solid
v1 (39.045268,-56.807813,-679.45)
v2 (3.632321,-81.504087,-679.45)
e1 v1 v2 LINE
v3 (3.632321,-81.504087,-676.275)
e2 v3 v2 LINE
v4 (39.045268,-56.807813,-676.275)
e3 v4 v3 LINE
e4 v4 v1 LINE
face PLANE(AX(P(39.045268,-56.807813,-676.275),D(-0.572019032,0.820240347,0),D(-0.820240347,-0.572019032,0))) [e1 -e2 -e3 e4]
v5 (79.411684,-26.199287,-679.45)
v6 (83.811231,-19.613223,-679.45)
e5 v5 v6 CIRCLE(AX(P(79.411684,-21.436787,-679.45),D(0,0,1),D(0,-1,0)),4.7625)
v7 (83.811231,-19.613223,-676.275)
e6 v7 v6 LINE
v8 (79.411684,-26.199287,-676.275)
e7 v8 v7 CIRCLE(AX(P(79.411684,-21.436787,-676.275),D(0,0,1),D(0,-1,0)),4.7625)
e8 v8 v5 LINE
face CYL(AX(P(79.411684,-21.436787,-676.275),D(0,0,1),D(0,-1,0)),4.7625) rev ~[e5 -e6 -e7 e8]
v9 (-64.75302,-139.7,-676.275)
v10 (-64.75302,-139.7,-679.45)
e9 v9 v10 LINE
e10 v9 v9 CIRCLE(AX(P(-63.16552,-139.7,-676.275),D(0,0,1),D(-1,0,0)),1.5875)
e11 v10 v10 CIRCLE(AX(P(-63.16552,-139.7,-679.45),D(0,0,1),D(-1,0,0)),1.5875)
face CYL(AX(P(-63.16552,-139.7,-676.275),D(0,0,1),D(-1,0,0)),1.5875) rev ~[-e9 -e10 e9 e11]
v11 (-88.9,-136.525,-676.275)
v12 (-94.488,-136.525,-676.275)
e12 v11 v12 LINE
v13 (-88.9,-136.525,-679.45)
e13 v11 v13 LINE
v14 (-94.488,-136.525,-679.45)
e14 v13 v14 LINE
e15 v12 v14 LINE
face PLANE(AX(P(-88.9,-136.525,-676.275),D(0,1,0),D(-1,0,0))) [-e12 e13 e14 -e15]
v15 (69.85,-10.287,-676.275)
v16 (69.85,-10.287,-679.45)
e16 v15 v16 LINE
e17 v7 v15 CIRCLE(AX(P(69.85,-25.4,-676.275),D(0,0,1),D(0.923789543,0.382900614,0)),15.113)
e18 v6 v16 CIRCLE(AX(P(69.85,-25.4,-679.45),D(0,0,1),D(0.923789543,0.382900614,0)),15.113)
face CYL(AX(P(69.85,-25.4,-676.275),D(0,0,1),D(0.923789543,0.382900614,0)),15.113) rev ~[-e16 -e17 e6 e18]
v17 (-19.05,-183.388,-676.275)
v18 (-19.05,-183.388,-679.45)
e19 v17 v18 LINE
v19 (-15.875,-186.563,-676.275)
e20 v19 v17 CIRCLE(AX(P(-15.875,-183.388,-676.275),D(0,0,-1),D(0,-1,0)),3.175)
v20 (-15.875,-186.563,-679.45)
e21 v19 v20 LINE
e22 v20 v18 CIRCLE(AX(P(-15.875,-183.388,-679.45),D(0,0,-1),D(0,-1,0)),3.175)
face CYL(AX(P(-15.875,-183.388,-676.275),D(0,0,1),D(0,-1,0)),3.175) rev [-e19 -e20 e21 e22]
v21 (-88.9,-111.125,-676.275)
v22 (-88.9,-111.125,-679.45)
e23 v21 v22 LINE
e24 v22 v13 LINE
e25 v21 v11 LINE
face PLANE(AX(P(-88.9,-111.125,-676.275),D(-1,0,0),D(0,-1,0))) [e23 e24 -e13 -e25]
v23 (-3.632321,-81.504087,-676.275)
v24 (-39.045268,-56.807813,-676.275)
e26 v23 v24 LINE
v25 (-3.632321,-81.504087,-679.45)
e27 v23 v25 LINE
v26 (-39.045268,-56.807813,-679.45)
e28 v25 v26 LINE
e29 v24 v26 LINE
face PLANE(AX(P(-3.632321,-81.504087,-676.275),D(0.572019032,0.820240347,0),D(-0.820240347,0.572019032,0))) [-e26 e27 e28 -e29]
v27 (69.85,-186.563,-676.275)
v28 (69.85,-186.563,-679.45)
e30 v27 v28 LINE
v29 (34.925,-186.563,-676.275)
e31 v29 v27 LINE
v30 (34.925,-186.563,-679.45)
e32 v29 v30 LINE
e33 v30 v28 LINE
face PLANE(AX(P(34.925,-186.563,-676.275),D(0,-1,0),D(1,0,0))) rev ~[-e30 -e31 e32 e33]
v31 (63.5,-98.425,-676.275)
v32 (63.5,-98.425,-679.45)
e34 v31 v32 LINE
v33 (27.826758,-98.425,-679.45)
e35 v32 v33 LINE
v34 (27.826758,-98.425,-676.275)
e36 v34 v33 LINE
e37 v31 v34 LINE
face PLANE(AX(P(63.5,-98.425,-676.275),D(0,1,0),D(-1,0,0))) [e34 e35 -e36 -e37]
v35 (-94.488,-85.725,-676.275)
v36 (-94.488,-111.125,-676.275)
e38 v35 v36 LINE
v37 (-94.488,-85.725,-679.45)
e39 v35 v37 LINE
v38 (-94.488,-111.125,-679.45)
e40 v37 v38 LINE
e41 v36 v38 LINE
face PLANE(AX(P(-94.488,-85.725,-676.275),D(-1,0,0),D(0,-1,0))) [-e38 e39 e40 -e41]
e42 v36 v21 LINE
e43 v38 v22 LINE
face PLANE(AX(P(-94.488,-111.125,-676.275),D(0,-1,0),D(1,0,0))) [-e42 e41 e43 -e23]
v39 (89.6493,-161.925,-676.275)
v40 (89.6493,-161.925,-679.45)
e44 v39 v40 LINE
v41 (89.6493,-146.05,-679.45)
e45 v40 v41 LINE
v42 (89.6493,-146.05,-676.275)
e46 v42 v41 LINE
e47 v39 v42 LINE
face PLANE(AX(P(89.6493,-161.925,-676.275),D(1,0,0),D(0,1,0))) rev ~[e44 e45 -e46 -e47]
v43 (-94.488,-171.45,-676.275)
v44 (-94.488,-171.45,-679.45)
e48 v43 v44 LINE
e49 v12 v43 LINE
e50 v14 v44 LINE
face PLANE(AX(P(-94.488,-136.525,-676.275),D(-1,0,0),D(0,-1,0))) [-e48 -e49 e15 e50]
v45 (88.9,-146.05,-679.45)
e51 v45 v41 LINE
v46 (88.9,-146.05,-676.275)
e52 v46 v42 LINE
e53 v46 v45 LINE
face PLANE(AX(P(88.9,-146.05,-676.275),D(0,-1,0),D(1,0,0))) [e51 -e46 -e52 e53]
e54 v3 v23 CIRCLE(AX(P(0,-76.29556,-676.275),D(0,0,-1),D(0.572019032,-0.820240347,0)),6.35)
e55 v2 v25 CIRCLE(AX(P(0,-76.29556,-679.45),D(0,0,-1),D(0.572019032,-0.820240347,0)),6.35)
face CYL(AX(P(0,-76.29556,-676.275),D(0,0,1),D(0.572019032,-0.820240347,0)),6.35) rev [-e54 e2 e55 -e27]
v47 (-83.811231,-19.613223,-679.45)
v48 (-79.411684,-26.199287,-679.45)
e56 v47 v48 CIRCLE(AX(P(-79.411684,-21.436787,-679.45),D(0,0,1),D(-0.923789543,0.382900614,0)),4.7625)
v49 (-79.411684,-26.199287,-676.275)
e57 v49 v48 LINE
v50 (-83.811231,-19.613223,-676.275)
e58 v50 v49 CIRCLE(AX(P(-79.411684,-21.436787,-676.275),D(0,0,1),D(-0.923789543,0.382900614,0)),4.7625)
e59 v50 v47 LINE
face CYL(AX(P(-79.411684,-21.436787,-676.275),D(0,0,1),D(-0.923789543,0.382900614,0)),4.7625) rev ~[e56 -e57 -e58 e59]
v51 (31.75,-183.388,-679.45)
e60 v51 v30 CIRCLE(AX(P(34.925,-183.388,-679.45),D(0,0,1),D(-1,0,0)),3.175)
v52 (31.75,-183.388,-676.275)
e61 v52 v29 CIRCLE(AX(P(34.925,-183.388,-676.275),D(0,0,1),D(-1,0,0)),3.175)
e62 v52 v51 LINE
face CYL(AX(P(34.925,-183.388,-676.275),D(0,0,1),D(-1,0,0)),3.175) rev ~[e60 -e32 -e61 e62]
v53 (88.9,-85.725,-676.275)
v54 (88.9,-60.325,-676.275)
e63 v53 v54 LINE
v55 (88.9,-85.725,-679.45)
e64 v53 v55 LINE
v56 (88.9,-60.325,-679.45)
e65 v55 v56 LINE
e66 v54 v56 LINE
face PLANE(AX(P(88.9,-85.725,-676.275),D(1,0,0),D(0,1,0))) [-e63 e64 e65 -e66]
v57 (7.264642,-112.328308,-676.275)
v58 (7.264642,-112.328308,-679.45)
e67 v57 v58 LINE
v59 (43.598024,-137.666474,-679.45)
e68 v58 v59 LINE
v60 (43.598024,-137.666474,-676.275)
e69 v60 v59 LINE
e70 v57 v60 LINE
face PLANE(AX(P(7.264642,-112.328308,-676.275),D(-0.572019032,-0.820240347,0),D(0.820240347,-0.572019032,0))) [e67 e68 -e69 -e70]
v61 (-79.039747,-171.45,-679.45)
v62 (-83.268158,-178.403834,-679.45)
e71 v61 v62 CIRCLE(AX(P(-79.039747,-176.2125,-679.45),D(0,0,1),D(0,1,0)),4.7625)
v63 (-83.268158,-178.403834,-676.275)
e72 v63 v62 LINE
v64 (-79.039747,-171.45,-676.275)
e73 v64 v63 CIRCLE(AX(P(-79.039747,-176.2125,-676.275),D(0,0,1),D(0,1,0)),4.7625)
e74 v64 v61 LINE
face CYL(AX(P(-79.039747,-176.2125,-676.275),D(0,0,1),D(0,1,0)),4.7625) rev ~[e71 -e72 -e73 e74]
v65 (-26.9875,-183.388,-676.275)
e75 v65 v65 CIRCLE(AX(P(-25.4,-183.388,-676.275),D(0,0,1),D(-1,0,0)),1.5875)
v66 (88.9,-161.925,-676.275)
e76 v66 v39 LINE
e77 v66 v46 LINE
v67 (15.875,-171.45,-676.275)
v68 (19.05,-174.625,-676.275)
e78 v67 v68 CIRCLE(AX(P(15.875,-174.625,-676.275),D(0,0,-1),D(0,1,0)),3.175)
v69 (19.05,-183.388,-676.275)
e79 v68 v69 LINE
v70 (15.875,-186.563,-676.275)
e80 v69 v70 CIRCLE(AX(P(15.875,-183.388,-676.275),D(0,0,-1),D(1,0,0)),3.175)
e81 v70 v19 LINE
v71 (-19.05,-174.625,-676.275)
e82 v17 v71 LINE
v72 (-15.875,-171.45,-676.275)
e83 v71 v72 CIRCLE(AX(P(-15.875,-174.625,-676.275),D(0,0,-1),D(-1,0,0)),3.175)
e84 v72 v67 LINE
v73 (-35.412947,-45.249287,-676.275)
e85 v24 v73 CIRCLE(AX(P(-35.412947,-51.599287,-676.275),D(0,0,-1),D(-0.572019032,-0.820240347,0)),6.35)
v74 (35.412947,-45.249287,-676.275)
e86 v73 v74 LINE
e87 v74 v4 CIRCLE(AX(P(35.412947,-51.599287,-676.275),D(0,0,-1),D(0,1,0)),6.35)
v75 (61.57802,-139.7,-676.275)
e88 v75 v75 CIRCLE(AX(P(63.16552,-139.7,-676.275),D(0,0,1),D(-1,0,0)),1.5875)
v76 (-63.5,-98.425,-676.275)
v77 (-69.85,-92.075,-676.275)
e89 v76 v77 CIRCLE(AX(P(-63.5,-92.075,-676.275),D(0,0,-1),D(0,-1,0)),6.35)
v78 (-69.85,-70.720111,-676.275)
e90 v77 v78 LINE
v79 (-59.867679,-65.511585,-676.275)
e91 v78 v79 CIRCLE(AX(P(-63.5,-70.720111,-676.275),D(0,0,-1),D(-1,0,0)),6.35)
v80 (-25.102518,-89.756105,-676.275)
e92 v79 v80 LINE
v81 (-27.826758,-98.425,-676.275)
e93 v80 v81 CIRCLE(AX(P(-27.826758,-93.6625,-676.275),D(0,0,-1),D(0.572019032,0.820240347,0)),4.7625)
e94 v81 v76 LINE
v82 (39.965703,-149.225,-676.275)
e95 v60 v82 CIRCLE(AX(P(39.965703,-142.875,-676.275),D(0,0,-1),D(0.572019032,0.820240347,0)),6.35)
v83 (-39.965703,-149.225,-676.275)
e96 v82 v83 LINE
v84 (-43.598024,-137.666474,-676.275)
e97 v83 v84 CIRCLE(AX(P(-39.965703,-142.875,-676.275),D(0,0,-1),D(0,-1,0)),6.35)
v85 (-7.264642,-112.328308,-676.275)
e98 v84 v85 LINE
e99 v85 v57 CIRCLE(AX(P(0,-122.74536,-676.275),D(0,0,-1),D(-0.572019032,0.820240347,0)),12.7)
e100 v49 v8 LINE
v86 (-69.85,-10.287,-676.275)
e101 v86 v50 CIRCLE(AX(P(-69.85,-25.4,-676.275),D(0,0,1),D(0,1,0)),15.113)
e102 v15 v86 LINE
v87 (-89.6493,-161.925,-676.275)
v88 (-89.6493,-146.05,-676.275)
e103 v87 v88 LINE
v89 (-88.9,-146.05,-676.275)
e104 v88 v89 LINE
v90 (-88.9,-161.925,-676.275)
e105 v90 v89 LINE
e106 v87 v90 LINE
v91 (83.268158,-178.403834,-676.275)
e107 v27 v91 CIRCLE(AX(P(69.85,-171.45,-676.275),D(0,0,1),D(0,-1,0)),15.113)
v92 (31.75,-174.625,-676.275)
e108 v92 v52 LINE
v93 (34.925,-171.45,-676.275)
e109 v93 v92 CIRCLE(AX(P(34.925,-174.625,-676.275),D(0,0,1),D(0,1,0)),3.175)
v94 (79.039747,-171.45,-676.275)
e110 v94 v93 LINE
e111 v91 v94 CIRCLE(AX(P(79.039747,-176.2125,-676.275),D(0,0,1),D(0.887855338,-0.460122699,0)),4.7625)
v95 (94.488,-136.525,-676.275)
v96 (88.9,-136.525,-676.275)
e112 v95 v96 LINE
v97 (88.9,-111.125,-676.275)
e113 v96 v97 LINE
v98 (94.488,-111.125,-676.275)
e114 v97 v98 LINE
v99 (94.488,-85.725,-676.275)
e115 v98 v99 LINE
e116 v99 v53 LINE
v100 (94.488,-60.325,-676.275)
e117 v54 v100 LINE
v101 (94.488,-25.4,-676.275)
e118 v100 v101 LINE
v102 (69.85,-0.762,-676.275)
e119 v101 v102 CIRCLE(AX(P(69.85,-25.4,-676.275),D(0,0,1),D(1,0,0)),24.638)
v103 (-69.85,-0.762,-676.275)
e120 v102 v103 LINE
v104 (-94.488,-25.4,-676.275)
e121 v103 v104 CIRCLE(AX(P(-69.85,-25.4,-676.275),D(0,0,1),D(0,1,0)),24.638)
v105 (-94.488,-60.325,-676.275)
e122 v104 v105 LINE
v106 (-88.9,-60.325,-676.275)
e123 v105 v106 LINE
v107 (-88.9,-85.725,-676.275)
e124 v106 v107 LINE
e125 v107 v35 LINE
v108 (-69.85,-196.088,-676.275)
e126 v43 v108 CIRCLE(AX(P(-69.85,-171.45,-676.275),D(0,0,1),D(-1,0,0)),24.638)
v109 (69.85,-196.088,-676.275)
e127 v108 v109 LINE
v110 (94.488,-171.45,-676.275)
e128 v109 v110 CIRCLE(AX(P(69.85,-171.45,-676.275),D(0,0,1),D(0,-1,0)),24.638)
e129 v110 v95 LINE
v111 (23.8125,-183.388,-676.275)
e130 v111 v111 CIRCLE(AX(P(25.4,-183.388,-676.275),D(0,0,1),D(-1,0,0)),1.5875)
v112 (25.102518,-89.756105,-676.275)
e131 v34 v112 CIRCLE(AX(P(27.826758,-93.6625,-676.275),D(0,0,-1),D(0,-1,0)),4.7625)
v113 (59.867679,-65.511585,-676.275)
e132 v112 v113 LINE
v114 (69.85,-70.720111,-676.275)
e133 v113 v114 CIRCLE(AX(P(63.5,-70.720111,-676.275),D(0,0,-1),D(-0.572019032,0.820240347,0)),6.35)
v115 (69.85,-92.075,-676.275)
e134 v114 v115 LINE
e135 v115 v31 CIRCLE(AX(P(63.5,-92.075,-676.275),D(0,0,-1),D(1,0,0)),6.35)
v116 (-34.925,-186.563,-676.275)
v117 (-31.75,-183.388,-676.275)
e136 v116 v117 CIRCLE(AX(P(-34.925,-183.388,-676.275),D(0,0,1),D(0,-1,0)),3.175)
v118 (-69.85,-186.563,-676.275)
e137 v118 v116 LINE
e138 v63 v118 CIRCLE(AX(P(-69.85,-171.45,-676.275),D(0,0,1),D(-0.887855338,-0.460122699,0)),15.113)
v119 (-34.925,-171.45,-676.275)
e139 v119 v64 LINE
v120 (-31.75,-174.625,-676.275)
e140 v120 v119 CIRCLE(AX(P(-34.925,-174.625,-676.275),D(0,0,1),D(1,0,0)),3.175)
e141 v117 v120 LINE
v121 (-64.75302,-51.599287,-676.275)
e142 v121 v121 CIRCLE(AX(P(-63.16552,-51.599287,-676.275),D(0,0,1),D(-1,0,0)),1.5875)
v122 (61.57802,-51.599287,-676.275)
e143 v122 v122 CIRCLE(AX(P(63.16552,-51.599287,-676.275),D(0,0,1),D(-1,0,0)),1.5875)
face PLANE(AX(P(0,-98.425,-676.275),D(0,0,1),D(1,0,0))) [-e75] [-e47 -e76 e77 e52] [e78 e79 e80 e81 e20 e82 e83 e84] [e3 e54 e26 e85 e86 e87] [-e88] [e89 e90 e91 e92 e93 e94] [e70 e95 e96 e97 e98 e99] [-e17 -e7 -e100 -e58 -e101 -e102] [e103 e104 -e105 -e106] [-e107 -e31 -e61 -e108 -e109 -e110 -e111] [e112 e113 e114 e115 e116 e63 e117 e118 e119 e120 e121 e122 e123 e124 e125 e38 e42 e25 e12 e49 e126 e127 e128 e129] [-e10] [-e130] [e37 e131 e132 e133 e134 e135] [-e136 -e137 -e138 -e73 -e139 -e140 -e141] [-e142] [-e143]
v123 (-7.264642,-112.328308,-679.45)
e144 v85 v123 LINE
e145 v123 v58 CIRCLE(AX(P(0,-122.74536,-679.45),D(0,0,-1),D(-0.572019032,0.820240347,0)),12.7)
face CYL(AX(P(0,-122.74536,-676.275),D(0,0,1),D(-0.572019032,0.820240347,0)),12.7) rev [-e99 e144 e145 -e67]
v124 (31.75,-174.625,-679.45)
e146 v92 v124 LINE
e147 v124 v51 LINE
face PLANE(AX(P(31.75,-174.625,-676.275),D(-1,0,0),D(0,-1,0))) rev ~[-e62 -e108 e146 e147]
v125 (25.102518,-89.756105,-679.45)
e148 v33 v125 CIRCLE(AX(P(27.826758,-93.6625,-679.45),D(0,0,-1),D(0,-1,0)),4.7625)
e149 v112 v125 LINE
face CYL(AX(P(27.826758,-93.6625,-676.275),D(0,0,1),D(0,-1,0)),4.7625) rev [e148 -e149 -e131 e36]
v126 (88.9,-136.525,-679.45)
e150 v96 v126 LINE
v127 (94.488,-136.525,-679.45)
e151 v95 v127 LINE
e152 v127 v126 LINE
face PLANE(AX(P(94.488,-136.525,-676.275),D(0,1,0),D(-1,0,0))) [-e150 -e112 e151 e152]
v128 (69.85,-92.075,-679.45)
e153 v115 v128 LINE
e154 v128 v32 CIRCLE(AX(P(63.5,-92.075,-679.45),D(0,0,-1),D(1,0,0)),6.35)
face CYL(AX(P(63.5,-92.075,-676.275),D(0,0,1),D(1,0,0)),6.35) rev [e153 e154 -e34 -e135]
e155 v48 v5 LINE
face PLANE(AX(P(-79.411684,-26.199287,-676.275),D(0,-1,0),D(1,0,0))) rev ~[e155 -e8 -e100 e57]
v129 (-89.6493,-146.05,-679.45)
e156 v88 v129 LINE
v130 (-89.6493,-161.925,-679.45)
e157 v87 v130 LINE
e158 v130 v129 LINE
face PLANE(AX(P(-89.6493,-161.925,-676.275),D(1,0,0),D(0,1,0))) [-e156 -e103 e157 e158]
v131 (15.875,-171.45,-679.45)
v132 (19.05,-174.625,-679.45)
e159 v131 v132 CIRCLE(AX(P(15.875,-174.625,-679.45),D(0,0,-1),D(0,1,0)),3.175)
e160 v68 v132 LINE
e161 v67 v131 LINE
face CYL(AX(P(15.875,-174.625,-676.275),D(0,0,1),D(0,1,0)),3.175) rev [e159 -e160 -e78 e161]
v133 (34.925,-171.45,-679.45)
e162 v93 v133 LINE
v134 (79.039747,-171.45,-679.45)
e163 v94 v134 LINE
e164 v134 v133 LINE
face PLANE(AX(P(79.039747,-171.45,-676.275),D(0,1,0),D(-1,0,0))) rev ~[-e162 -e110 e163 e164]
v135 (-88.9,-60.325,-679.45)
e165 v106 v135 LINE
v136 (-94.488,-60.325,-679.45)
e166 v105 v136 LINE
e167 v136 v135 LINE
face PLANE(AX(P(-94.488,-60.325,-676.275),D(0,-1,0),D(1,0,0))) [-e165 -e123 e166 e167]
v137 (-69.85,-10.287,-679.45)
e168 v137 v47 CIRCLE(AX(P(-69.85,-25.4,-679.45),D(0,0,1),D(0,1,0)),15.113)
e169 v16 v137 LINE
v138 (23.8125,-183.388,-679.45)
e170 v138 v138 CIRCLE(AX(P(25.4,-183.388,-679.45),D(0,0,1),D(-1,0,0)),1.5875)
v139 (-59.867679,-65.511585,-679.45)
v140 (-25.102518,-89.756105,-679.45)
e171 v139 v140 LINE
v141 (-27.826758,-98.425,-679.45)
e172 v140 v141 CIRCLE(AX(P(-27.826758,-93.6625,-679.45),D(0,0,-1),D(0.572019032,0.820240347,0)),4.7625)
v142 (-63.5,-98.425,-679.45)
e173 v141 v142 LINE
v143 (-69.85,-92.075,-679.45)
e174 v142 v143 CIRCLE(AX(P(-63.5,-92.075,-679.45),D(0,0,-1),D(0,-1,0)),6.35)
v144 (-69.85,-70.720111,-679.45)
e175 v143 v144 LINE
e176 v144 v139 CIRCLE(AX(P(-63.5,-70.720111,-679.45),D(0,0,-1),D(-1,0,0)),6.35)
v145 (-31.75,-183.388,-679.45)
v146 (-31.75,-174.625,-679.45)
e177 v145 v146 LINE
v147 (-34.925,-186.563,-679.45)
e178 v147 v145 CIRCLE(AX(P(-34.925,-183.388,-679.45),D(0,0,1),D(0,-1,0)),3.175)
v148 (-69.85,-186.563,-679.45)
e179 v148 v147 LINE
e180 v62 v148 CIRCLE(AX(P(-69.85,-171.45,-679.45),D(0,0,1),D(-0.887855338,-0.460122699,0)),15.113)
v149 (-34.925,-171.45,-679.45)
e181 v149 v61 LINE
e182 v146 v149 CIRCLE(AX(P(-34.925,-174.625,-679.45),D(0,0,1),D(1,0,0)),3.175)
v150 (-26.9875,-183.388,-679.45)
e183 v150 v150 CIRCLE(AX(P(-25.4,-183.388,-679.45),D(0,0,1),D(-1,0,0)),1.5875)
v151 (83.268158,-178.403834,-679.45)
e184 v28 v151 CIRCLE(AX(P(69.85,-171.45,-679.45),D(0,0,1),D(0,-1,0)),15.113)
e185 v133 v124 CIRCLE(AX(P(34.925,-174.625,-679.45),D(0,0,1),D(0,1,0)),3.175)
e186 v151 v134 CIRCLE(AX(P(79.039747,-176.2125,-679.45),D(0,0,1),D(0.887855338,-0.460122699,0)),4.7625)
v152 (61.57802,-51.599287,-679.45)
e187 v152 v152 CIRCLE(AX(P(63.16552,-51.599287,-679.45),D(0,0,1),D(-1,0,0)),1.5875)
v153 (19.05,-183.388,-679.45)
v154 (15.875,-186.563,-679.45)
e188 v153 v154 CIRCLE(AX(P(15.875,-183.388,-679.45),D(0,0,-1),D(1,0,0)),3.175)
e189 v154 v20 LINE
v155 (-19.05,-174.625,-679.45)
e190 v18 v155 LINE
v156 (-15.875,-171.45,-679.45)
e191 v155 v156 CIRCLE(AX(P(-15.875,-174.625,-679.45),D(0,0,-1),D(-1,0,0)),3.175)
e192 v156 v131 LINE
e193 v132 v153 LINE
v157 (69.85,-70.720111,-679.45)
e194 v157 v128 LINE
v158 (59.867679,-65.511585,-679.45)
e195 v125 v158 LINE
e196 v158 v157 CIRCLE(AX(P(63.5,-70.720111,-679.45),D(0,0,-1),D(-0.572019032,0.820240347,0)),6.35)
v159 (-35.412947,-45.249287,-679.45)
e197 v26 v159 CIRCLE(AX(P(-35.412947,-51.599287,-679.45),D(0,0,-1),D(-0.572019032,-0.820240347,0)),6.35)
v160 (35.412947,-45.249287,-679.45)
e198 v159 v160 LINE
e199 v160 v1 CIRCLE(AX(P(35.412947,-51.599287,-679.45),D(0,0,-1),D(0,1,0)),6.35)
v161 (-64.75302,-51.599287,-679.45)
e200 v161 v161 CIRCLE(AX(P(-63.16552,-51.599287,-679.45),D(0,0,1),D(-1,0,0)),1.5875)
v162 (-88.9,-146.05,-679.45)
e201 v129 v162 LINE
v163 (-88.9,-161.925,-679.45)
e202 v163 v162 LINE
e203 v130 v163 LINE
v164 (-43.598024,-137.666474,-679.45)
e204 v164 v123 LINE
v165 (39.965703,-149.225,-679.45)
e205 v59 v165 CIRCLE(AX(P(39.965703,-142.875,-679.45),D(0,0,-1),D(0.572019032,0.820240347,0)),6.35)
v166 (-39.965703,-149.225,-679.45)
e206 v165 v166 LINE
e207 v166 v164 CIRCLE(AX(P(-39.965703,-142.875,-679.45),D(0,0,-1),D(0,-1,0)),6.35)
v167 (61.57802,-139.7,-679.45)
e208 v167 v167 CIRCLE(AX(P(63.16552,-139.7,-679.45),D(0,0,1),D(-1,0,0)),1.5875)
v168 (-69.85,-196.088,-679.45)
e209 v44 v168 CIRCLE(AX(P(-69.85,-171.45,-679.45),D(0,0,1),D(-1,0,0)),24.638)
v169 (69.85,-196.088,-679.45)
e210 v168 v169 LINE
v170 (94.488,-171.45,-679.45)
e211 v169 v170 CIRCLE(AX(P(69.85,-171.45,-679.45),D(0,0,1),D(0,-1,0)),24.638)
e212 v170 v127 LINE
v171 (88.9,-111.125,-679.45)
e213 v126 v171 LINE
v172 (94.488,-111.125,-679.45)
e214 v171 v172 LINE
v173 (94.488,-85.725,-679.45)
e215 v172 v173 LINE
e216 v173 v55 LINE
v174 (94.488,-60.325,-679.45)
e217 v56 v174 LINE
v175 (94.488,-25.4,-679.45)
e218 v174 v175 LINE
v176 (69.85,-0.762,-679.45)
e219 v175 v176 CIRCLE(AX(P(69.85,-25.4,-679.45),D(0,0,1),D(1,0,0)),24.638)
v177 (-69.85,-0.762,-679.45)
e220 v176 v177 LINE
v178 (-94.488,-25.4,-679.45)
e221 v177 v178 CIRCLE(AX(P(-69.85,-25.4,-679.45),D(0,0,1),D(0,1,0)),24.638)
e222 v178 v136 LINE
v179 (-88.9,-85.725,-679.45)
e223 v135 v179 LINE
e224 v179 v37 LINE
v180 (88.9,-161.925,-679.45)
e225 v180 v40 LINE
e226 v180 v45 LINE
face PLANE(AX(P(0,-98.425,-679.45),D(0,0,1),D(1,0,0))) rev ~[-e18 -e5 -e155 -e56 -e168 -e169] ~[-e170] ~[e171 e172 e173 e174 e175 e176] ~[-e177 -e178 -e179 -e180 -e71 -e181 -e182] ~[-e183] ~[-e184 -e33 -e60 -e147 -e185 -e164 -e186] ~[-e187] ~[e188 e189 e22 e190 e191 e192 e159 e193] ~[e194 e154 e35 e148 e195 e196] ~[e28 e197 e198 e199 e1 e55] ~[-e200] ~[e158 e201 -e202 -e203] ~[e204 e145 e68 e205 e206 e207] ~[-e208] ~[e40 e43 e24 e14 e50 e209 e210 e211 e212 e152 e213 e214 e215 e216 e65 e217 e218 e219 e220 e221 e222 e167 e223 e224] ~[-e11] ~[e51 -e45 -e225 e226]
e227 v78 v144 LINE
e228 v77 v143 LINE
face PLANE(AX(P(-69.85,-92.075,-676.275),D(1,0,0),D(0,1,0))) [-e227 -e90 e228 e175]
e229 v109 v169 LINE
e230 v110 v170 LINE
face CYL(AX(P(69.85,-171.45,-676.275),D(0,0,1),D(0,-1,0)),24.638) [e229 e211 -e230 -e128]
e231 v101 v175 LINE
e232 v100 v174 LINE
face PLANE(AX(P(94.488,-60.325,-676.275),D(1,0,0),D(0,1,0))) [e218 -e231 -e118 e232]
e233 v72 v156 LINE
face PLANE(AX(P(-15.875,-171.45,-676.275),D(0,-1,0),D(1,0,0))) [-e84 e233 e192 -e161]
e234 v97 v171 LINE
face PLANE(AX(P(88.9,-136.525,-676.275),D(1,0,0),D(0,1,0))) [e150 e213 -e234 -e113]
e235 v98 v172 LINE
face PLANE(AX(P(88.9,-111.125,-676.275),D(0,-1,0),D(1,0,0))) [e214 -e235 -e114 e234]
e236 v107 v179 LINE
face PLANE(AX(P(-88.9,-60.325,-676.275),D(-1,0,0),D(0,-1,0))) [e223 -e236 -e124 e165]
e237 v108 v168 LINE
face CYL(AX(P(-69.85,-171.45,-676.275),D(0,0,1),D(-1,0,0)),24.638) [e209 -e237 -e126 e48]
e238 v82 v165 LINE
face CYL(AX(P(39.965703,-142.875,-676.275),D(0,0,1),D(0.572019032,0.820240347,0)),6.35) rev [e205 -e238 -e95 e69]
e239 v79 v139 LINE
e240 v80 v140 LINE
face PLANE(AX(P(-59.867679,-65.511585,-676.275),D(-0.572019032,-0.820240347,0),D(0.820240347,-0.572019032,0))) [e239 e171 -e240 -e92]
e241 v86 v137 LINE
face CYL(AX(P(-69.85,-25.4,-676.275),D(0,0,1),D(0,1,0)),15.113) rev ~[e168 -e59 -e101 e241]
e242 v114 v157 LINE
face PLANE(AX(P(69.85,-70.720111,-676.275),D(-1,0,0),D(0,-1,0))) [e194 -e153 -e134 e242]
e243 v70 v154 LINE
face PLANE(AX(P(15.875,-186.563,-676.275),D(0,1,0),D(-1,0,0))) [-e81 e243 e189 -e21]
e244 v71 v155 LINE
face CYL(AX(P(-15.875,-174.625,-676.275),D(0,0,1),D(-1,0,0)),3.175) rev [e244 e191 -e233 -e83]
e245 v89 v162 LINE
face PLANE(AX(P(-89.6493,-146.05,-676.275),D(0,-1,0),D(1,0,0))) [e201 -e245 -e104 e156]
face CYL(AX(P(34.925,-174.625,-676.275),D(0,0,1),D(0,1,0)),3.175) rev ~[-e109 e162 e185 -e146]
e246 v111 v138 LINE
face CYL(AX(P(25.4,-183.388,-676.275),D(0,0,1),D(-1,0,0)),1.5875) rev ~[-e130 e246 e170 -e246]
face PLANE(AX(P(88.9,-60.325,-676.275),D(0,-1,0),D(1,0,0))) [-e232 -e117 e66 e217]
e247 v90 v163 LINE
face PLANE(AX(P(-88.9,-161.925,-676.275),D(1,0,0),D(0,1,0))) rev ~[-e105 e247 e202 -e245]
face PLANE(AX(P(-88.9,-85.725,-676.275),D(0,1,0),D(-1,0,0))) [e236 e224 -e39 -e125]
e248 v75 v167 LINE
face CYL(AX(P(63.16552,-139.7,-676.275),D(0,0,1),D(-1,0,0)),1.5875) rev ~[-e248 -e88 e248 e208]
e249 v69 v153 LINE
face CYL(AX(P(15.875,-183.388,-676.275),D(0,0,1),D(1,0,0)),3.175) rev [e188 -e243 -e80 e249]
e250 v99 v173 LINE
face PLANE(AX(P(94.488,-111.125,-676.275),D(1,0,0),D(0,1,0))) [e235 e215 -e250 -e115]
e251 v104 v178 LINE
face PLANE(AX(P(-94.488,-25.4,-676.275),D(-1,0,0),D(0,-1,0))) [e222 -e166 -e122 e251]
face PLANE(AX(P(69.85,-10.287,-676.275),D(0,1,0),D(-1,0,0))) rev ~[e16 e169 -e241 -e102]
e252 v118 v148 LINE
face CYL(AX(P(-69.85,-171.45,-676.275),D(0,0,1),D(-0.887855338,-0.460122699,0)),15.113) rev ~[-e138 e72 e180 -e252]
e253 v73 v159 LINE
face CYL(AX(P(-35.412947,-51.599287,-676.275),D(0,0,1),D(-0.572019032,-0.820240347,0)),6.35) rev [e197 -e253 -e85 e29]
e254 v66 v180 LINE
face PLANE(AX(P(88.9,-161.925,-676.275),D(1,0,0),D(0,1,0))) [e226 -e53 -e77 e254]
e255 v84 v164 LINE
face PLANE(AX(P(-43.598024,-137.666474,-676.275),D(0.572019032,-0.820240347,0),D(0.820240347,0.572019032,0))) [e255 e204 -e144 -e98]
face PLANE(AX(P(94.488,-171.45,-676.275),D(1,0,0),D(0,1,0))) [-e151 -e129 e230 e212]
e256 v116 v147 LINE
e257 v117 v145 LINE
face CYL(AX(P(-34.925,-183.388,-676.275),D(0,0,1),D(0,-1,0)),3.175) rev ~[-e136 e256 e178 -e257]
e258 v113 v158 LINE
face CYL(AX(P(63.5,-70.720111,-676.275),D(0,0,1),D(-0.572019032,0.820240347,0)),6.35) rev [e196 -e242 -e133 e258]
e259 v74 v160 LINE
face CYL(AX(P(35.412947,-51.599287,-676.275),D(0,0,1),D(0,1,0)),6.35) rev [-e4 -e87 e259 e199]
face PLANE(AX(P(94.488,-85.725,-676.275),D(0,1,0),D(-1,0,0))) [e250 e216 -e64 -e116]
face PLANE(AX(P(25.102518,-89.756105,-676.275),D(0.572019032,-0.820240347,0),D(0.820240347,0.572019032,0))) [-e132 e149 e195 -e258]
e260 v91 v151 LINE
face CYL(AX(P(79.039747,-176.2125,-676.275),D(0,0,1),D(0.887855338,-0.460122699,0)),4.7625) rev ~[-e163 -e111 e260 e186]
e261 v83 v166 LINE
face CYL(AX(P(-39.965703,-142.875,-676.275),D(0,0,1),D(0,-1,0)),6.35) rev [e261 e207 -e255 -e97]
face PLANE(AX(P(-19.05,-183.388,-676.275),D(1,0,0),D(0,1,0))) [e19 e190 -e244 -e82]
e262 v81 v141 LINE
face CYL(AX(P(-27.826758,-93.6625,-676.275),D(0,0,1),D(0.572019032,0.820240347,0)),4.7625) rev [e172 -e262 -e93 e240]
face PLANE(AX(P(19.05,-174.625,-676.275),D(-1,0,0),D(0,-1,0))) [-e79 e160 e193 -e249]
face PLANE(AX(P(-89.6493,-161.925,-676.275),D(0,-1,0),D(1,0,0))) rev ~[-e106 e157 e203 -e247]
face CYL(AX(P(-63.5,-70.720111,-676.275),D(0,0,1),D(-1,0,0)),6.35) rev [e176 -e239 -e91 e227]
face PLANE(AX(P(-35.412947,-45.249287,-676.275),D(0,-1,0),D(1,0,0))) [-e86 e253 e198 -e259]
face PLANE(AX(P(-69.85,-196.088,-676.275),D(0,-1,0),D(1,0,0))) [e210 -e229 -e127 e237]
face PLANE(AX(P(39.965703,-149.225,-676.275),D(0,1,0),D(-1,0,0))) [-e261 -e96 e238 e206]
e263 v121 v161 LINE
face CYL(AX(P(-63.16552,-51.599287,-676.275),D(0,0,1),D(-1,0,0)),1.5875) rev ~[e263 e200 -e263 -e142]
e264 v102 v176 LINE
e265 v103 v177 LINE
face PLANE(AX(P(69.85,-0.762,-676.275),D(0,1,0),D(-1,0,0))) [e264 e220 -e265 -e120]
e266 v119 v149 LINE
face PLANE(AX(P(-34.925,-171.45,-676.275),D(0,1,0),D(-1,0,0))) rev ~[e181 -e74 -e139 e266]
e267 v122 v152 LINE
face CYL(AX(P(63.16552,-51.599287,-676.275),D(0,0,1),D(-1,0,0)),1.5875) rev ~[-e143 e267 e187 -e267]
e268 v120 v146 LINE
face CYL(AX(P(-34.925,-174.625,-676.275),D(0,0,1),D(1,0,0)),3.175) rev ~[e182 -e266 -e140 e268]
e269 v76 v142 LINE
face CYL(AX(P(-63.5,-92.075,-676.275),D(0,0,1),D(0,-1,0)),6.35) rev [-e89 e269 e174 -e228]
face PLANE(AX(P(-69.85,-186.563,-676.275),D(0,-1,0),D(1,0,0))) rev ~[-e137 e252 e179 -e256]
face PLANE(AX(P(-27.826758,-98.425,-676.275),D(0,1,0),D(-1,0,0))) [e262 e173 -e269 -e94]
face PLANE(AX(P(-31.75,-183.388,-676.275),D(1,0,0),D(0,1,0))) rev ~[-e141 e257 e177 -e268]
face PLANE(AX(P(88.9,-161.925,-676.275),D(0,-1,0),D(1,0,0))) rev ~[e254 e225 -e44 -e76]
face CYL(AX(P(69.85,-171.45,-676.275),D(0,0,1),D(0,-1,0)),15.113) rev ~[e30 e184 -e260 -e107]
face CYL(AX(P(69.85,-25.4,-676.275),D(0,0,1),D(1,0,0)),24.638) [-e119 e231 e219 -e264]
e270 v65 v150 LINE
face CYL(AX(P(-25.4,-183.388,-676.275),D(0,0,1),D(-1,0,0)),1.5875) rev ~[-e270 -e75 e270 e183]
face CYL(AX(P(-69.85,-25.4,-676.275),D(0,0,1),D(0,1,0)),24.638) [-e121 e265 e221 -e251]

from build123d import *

# Parameters (mm, degrees)
SKETCH1_R           = 1.5875
SKETCH1_W           = 0.7493
SKETCH1_H           = 15.875
BOSS_EXTRUDE1_DEPTH = 3.175


with BuildPart() as part:
    # Sketch1 → Boss-Extrude1 (new body)
    with BuildSketch(Plane.XY.offset(-676.275)):
        with BuildLine():
            Line((94.488, -171.45), (94.488, -136.525))
            Line((94.488, -136.525), (88.9, -136.525))
            Line((88.9, -136.525), (88.9, -111.125))
            Line((88.9, -111.125), (94.488, -111.125))
            Line((94.488, -111.125), (94.488, -85.725))
            Line((94.488, -85.725), (88.9, -85.725))
            Line((88.9, -85.725), (88.9, -60.325))
            Line((88.9, -60.325), (94.488, -60.325))
            Line((94.488, -60.325), (94.488, -25.4))
            ThreePointArc((94.488, -25.4), (87.271696875, -7.978303125), (69.85, -0.762))
            Line((69.85, -0.762), (-69.85, -0.762))
            ThreePointArc((-69.85, -0.762), (-87.271696875, -7.978303125), (-94.488, -25.4))
            Line((-94.488, -25.4), (-94.488, -60.325))
            Line((-94.488, -60.325), (-88.9, -60.325))
            Line((-88.9, -60.325), (-88.9, -85.725))
            Line((-88.9, -85.725), (-94.488, -85.725))
            Line((-94.488, -85.725), (-94.488, -111.125))
            Line((-94.488, -111.125), (-88.9, -111.125))
            Line((-88.9, -111.125), (-88.9, -136.525))
            Line((-88.9, -136.525), (-94.488, -136.525))
            Line((-94.488, -136.525), (-94.488, -171.45))
            ThreePointArc((-94.488, -171.45), (-87.271696875, -188.871696875), (-69.85, -196.088))
            Line((-69.85, -196.088), (69.85, -196.088))
            ThreePointArc((69.85, -196.088), (87.271696875, -188.871696875), (94.488, -171.45))
        make_face()
        with Locations(Location((63.1655201, -139.7, 0), (0, 0, 180))):
            Circle(SKETCH1_R, mode=Mode.SUBTRACT)
        with Locations(Location((-63.1655201, -51.5992872, 0), (0, 0, 180))):
            Circle(SKETCH1_R, mode=Mode.SUBTRACT)
        with Locations(Location((25.4, -183.388, 0), (0, 0, 180))):
            Circle(SKETCH1_R, mode=Mode.SUBTRACT)
        with Locations(Location((-25.4, -183.388, 0), (0, 0, 180))):
            Circle(SKETCH1_R, mode=Mode.SUBTRACT)
        with Locations(Location((-63.1655201, -139.7, 0), (0, 0, 180))):
            Circle(SKETCH1_R, mode=Mode.SUBTRACT)
        with Locations(Location((63.1655201, -51.5992872, 0), (0, 0, 180))):
            Circle(SKETCH1_R, mode=Mode.SUBTRACT)
        with BuildLine():
            Line((7.264641701, -112.328307791), (43.598023874, -137.666473794))
            ThreePointArc((43.598023874, -137.666473794), (46.023616914, -144.778727737), (39.965703023, -149.225))
            Line((39.965703023, -149.225), (-39.965703023, -149.225))
            ThreePointArc((-39.965703023, -149.225), (-46.023616914, -144.778727737), (-43.598023874, -137.666473794))
            Line((-43.598023874, -137.666473794), (-7.264641701, -112.328307791))
            ThreePointArc((-7.264641701, -112.328307791), (0, -110.045360203), (7.264641701, -112.328307791))
        make_face(mode=Mode.SUBTRACT)
        with BuildLine():
            Line((39.04526783, -56.807813406), (3.632320851, -81.504086518))
            ThreePointArc((3.632320851, -81.504086518), (0, -82.645560312), (-3.632320851, -81.504086518))
            Line((-3.632320851, -81.504086518), (-39.04526783, -56.807813406))
            ThreePointArc((-39.04526783, -56.807813406), (-41.47086087, -49.695559463), (-35.41294698, -45.2492872))
            Line((-35.41294698, -45.2492872), (35.41294698, -45.2492872))
            ThreePointArc((35.41294698, -45.2492872), (41.47086087, -49.695559463), (39.04526783, -56.807813406))
        make_face(mode=Mode.SUBTRACT)
        with BuildLine():
            Line((69.85, -70.72011097), (69.85, -92.075))
            ThreePointArc((69.85, -92.075), (67.990128061, -96.565128061), (63.5, -98.425))
            Line((63.5, -98.425), (27.826758339, -98.425))
            ThreePointArc((27.826758339, -98.425), (23.283322921, -95.090295803), (25.102517701, -89.756105345))
            Line((25.102517701, -89.756105345), (59.867679149, -65.511584764))
            ThreePointArc((59.867679149, -65.511584764), (66.4374532, -65.090380186), (69.85, -70.72011097))
        make_face(mode=Mode.SUBTRACT)
        with BuildLine():
            Line((-59.867679149, -65.511584764), (-25.102517701, -89.756105345))
            ThreePointArc((-25.102517701, -89.756105345), (-23.283322921, -95.090295803), (-27.826758339, -98.425))
            Line((-27.826758339, -98.425), (-63.5, -98.425))
            ThreePointArc((-63.5, -98.425), (-67.990128061, -96.565128061), (-69.85, -92.075))
            Line((-69.85, -92.075), (-69.85, -70.72011097))
            ThreePointArc((-69.85, -70.72011097), (-66.4374532, -65.090380186), (-59.867679149, -65.511584764))
        make_face(mode=Mode.SUBTRACT)
        with BuildLine():
            Line((-69.85, -186.563), (-34.925, -186.563))
            ThreePointArc((-34.925, -186.563), (-32.67993597, -185.63306403), (-31.75, -183.388))
            Line((-31.75, -183.388), (-31.75, -174.625))
            ThreePointArc((-31.75, -174.625), (-32.67993597, -172.37993597), (-34.925, -171.45))
            Line((-34.925, -171.45), (-79.039746678, -171.45))
            ThreePointArc((-79.039746678, -171.45), (-83.108999442, -173.738113573), (-83.268157726, -178.403834356))
            ThreePointArc((-83.268157726, -178.403834356), (-77.702052928, -184.363095439), (-69.85, -186.563))
        make_face(mode=Mode.SUBTRACT)
        with BuildLine():
            Line((69.85, -10.287), (-69.85, -10.287))
            ThreePointArc((-69.85, -10.287), (-78.244855824, -12.833012903), (-83.811231367, -19.613223028))
            ThreePointArc((-83.811231367, -19.613223028), (-83.371868677, -24.08222496), (-79.411683667, -26.1992872))
            Line((-79.411683667, -26.1992872), (79.411683667, -26.1992872))
            ThreePointArc((79.411683667, -26.1992872), (83.371868677, -24.08222496), (83.811231367, -19.613223028))
            ThreePointArc((83.811231367, -19.613223028), (78.244855824, -12.833012903), (69.85, -10.287))
        make_face(mode=Mode.SUBTRACT)
        with BuildLine():
            Line((-19.05, -183.388), (-19.05, -174.625))
            ThreePointArc((-19.05, -174.625), (-18.12006403, -172.37993597), (-15.875, -171.45))
            Line((-15.875, -171.45), (15.875, -171.45))
            ThreePointArc((15.875, -171.45), (18.12006403, -172.37993597), (19.05, -174.625))
            Line((19.05, -174.625), (19.05, -183.388))
            ThreePointArc((19.05, -183.388), (18.12006403, -185.63306403), (15.875, -186.563))
            Line((15.875, -186.563), (-15.875, -186.563))
            ThreePointArc((-15.875, -186.563), (-18.12006403, -185.63306403), (-19.05, -183.388))
        make_face(mode=Mode.SUBTRACT)
        with BuildLine():
            Line((31.75, -174.625), (31.75, -183.388))
            ThreePointArc((31.75, -183.388), (32.67993597, -185.63306403), (34.925, -186.563))
            Line((34.925, -186.563), (69.85, -186.563))
            ThreePointArc((69.85, -186.563), (77.702052928, -184.363095439), (83.268157726, -178.403834356))
            ThreePointArc((83.268157726, -178.403834356), (83.108999442, -173.738113573), (79.039746678, -171.45))
            Line((79.039746678, -171.45), (34.925, -171.45))
            ThreePointArc((34.925, -171.45), (32.67993597, -172.37993597), (31.75, -174.625))
        make_face(mode=Mode.SUBTRACT)
        with Locations((-89.27465, -153.9875)):
            Rectangle(SKETCH1_W, SKETCH1_H, mode=Mode.SUBTRACT)
        with Locations((89.27465, -153.9875)):
            Rectangle(SKETCH1_W, SKETCH1_H, mode=Mode.SUBTRACT)
    extrude(amount=-BOSS_EXTRUDE1_DEPTH)


solid = part.part
